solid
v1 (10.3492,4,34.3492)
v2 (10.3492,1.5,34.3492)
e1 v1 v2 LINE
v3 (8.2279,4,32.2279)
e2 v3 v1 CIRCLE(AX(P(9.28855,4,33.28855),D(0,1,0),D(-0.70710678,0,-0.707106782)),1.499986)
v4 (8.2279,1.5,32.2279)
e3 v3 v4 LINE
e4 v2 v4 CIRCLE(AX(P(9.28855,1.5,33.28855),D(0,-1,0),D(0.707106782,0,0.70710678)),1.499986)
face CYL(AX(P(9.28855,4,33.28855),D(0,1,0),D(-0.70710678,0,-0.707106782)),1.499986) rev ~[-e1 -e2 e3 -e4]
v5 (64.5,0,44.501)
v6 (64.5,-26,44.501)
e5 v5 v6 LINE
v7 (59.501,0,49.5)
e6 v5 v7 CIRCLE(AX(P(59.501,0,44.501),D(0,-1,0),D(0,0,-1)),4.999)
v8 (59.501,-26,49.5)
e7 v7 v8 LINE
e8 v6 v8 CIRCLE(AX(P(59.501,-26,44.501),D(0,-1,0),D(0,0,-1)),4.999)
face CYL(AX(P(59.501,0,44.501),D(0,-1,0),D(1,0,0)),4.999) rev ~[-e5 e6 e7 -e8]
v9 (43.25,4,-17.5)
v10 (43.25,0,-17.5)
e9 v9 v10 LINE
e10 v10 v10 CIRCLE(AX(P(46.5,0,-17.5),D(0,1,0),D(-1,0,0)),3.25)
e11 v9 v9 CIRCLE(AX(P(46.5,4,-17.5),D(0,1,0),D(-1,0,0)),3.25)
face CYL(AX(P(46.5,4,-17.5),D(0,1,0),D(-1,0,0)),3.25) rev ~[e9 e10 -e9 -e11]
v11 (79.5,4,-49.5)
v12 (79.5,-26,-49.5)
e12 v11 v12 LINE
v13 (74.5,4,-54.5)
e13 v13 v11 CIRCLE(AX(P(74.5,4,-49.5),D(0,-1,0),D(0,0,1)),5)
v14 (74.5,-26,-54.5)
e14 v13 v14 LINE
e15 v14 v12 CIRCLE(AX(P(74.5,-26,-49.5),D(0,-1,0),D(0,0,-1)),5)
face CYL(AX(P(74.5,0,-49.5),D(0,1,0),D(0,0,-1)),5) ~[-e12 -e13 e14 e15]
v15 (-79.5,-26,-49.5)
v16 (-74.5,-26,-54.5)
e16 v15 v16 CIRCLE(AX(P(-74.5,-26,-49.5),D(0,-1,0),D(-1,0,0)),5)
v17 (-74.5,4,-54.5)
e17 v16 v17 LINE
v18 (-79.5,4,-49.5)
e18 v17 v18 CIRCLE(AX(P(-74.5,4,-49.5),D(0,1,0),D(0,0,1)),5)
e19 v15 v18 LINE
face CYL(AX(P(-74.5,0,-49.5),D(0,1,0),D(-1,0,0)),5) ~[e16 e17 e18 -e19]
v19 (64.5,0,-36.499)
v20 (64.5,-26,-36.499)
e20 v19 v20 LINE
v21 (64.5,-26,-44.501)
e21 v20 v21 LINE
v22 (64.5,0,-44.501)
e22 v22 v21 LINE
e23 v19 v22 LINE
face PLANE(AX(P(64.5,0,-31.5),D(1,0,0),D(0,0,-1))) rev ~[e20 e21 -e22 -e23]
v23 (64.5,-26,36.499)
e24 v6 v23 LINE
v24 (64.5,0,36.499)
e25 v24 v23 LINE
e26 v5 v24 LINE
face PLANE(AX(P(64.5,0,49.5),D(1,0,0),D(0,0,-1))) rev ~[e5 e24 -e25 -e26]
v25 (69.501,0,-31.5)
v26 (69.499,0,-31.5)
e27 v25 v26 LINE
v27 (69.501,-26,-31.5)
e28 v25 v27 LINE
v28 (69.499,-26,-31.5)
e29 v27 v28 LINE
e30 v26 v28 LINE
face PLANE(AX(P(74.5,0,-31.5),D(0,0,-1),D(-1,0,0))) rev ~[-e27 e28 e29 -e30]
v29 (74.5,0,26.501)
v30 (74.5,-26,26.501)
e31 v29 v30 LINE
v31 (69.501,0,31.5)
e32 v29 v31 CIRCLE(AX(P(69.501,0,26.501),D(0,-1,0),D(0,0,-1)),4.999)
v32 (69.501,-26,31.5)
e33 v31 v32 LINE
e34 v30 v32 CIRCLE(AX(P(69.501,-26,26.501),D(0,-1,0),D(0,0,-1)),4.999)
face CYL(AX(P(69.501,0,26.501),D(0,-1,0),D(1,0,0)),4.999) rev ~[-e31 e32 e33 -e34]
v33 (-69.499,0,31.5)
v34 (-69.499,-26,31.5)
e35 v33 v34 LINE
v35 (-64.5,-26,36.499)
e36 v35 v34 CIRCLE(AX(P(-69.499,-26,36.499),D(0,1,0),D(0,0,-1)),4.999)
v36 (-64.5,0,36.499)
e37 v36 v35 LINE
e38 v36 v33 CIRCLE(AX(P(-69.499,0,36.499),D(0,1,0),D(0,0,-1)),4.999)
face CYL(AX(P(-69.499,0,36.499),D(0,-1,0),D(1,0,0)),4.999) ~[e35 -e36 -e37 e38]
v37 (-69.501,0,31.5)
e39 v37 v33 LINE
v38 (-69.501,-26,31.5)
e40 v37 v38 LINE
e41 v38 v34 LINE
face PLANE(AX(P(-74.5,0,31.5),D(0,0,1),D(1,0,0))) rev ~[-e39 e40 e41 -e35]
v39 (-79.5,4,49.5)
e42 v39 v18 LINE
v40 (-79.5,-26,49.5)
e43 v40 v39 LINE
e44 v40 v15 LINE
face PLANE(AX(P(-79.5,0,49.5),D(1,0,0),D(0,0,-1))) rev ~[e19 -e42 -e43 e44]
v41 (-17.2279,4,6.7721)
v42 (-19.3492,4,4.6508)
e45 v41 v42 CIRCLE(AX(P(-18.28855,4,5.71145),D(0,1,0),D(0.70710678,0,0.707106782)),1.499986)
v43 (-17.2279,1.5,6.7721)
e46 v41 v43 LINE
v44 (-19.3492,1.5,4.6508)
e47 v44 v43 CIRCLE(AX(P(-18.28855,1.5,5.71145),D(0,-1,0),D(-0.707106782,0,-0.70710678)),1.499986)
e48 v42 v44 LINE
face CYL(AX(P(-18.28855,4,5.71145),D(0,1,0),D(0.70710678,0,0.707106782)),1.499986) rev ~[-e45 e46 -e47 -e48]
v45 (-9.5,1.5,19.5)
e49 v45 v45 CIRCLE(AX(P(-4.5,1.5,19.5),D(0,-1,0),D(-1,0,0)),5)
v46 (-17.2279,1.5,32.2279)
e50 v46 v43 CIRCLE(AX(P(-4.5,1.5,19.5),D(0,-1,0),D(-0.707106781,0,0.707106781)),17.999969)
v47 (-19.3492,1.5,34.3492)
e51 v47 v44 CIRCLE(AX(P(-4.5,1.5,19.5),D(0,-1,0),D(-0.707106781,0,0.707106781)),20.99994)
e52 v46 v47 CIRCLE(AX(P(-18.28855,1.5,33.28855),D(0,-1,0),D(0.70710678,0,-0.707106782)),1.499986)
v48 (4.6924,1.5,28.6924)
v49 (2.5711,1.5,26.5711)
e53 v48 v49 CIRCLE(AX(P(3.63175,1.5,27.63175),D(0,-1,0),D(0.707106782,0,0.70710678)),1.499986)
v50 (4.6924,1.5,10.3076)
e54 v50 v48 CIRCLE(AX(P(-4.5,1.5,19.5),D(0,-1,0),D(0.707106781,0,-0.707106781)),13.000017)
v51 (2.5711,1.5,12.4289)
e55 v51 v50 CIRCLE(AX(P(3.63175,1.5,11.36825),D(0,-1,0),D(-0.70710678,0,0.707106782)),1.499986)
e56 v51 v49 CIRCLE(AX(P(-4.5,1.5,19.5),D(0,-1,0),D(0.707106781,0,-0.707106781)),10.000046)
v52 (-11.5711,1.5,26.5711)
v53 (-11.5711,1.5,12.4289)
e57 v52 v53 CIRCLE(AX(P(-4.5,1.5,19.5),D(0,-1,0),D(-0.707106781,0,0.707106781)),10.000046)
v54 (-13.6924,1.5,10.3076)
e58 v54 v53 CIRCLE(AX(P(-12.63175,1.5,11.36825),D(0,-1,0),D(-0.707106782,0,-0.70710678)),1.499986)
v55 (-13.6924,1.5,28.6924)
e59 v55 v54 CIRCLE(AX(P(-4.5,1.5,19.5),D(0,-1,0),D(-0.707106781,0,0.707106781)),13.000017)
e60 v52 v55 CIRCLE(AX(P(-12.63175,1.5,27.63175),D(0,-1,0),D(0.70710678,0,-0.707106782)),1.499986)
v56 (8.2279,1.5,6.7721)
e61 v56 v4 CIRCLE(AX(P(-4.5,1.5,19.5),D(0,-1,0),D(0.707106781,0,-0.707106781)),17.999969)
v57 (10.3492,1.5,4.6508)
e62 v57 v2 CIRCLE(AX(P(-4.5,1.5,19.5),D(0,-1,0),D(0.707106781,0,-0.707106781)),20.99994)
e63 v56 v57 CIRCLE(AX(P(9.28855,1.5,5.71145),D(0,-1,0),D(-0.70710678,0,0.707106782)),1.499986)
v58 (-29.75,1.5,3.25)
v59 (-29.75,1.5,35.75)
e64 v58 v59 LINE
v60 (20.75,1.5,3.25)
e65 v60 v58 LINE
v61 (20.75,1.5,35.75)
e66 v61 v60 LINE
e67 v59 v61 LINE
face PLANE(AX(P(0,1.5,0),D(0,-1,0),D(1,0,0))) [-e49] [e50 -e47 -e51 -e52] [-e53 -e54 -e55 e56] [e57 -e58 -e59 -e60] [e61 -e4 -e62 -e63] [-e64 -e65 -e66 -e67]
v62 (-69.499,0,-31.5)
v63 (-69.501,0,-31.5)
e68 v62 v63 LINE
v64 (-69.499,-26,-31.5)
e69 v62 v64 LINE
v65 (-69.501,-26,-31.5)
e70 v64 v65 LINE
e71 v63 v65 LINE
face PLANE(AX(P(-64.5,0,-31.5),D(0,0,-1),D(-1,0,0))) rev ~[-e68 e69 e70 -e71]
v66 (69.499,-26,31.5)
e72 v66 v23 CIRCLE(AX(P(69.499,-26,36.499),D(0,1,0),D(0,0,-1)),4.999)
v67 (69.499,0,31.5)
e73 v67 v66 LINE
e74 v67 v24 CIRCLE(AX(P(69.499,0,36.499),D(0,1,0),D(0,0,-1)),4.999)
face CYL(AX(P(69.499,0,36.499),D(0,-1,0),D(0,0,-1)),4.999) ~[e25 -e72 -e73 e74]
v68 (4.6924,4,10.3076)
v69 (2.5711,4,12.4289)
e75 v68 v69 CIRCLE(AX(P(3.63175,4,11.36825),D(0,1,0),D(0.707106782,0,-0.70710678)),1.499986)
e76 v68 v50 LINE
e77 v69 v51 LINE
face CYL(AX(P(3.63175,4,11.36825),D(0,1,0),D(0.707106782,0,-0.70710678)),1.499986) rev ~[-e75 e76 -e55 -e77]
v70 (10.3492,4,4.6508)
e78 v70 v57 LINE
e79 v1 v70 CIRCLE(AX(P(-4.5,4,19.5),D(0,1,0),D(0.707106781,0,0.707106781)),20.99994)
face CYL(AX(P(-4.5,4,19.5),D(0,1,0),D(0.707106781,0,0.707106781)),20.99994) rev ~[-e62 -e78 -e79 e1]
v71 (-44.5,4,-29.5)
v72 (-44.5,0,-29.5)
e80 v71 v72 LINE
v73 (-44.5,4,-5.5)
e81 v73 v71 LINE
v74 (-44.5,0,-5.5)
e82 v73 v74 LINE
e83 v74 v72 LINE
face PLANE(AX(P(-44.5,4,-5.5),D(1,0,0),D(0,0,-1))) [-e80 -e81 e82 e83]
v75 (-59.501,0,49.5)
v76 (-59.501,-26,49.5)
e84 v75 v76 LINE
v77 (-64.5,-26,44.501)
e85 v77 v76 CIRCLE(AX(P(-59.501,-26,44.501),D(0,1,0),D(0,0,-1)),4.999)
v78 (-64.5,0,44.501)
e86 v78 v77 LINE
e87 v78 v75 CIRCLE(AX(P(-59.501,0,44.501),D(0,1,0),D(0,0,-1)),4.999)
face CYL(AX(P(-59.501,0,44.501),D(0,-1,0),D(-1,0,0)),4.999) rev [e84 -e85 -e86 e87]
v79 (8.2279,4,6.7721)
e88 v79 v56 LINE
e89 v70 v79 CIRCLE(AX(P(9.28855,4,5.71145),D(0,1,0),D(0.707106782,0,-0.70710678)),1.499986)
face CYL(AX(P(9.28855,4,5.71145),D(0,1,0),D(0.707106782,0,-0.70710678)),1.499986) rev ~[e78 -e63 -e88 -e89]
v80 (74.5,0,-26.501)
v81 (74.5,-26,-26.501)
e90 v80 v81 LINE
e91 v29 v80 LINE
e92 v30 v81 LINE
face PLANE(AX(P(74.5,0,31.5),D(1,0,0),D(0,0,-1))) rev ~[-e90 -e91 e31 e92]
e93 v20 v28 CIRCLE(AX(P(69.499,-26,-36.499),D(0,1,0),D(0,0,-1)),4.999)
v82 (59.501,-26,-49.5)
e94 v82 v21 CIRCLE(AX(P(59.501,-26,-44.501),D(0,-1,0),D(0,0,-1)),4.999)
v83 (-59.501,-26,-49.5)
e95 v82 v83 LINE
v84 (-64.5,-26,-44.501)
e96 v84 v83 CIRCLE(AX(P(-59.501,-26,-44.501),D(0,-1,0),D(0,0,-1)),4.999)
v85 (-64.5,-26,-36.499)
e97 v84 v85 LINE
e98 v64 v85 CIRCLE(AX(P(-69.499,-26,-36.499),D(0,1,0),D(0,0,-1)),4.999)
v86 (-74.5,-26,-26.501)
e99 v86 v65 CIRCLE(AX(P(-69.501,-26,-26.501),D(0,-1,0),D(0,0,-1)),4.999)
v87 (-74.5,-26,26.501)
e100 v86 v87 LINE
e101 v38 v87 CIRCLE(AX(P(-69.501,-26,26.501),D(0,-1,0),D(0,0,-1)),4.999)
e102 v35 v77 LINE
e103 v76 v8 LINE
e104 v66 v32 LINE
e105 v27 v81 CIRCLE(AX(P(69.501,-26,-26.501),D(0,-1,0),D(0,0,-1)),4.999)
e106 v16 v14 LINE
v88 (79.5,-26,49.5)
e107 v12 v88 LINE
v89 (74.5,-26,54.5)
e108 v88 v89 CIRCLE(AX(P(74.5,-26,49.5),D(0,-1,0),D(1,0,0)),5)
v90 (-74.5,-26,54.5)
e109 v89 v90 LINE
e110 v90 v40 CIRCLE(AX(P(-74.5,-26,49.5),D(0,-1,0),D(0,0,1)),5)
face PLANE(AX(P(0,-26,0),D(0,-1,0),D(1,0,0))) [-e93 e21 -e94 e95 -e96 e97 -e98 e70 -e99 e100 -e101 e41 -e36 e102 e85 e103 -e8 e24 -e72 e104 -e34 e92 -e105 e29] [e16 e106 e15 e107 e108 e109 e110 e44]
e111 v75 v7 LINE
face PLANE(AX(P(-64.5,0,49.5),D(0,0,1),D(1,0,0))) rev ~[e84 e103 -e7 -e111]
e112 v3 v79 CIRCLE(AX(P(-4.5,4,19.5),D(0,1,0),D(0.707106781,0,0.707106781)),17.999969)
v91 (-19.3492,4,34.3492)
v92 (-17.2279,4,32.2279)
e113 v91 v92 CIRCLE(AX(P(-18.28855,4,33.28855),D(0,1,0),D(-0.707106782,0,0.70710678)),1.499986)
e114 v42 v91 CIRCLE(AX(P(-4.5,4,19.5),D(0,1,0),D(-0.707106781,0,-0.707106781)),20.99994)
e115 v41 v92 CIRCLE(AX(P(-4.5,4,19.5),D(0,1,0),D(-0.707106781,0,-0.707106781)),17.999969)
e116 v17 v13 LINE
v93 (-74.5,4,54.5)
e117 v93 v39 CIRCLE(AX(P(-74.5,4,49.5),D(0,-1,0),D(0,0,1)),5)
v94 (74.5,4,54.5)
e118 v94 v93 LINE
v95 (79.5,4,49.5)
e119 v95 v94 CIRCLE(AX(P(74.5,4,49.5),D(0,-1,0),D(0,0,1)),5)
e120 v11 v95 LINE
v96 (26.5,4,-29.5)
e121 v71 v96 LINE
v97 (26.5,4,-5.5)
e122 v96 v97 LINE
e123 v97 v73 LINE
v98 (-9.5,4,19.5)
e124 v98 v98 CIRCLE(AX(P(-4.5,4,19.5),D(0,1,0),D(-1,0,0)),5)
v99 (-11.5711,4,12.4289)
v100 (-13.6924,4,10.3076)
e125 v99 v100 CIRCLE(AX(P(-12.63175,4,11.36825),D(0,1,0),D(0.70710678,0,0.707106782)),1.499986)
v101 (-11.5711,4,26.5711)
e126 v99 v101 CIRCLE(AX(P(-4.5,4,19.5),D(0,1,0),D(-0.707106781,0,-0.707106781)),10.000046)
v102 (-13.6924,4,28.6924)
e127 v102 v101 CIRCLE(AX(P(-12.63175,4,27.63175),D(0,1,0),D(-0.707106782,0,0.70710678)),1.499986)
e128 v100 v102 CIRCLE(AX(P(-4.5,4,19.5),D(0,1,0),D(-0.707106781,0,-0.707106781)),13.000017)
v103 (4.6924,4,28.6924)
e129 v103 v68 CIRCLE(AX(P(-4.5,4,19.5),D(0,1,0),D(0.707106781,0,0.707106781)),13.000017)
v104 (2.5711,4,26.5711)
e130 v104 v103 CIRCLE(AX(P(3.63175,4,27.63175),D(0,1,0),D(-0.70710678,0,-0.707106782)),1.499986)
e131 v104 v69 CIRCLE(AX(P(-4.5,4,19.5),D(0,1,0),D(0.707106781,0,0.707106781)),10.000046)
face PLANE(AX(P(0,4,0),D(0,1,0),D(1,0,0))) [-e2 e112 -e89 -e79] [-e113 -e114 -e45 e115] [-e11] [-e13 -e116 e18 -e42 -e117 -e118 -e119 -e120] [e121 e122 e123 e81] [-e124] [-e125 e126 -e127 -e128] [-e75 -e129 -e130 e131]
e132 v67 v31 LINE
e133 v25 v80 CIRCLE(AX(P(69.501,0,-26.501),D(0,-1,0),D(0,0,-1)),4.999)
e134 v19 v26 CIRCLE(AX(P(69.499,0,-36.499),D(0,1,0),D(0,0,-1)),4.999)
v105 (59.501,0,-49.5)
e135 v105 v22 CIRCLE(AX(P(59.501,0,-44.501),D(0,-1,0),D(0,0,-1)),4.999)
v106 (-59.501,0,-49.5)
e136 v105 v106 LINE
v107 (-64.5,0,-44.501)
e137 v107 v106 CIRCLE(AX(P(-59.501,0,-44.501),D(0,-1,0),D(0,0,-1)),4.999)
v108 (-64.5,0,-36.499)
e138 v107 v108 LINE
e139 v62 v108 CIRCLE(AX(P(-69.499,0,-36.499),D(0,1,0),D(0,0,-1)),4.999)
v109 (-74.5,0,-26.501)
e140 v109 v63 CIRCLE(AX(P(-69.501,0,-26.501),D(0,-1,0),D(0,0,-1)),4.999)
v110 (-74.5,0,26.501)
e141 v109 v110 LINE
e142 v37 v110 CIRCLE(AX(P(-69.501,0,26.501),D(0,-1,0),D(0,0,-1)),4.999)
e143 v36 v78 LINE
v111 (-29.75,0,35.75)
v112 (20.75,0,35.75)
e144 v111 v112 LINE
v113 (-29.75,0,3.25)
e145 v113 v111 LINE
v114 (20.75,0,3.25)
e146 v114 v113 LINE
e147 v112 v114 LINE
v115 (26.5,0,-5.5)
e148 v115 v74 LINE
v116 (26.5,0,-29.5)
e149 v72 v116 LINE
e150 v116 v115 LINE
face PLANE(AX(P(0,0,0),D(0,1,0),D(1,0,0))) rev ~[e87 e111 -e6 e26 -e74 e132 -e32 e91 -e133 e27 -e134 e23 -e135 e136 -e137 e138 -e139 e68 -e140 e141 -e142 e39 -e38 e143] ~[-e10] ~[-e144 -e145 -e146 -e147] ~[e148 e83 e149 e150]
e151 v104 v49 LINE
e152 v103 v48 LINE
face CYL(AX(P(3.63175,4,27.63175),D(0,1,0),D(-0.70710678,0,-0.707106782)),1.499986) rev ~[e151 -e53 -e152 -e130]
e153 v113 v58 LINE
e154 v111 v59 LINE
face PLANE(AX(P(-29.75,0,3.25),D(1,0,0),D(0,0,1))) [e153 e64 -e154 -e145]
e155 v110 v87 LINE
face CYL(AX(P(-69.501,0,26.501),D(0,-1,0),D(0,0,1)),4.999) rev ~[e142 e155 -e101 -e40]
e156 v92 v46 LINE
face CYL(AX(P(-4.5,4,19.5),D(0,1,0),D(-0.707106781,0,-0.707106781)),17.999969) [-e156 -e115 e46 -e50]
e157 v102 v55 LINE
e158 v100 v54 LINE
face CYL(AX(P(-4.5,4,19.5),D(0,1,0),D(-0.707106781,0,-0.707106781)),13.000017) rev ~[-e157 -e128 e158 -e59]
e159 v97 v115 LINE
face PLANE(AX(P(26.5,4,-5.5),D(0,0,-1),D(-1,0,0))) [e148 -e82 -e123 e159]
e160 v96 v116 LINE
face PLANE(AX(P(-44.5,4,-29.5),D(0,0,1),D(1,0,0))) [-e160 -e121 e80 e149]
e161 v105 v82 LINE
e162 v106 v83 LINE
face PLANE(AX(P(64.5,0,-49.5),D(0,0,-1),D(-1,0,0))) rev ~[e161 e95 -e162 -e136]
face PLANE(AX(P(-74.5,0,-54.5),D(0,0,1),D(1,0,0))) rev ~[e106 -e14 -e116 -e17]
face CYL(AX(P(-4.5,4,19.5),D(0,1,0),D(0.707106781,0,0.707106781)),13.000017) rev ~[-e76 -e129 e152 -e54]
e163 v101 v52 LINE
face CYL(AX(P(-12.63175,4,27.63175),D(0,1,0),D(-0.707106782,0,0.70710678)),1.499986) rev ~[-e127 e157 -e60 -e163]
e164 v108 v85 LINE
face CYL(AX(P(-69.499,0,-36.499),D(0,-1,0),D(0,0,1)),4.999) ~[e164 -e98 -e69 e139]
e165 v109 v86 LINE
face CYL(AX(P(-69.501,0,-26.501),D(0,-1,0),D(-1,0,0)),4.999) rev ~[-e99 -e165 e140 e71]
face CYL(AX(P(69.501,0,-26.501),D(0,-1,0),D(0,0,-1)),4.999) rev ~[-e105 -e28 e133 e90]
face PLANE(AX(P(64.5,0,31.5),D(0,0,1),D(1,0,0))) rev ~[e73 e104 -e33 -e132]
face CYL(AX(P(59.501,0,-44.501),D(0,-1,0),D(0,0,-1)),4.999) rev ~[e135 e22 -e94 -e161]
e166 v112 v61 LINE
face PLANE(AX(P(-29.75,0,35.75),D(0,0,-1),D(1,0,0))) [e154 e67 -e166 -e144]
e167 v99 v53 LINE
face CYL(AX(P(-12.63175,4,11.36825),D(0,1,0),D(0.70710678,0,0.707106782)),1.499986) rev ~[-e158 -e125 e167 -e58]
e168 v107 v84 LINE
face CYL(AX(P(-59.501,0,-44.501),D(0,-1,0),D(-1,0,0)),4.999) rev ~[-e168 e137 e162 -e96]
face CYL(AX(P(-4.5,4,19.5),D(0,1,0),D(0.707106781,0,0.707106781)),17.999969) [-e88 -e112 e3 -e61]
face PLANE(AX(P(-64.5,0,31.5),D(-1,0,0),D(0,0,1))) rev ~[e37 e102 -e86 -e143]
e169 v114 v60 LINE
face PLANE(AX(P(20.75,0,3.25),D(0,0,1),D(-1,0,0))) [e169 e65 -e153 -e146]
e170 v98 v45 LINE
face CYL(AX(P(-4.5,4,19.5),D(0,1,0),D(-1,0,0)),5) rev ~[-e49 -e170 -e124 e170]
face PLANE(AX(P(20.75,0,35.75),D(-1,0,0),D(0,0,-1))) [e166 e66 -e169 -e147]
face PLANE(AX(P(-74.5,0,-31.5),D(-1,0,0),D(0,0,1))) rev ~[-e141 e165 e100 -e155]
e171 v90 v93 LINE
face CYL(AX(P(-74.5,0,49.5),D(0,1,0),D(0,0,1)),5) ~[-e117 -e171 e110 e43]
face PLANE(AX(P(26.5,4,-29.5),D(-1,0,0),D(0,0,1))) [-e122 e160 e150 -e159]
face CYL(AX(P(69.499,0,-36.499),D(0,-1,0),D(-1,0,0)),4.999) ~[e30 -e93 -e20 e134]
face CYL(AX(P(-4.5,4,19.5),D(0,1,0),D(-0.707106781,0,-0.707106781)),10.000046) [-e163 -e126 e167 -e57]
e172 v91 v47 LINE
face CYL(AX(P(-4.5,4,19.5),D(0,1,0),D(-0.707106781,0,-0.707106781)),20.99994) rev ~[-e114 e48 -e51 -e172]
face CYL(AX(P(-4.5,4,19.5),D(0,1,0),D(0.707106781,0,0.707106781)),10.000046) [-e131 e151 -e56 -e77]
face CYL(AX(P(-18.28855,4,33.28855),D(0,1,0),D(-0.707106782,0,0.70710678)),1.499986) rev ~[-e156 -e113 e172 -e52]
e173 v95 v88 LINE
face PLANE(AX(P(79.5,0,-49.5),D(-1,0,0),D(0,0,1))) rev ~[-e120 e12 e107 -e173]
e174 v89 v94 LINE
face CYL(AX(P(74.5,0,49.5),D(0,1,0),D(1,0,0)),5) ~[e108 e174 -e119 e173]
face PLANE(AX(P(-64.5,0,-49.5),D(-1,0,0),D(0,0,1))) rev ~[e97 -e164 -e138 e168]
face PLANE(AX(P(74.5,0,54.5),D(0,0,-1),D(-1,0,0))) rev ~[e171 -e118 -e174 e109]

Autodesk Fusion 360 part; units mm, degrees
sketch "Skizze1" plane through (0, 0, 0) normal (0, 1, 0) x (1, 0, 0)
  line L0 (-79.5, 54.5) -> (79.5, 54.5)
  line L1 (79.5, 54.5) -> (79.5, -54.5)
  line L2 (79.5, -54.5) -> (-79.5, -54.5)
  line L3 (-79.5, -54.5) -> (-79.5, 54.5)
  line L4 (-79.5, 54.5) -> (79.5, -54.5) construction
  line L5 (79.5, 54.5) -> (-79.5, -54.5) construction
  dimension "d1" = 109
  dimension "d2" = 159
extrude "Extrusion1" add sketch "Skizze1" along normal blind 4
fillet "Abrundung1" radius 5 4 edges at (-79.5, 2, -54.5) (-79.5, 2, 54.5) (79.5, 2, 54.5) (79.5, 2, -54.5)
sketch "Skizze2" plane through (0, 4, 0) normal (0, 1, 0) x (-1, 0, 0)
  arc A0 (-79.5, -49.5) -> (-74.5, -54.5) centre (-74.5, -49.5) ccw
  line L0 (-74.5, -54.5) -> (74.5, -54.5)
  arc A1 (74.5, -54.5) -> (79.5, -49.5) centre (74.5, -49.5) ccw
  line L1 (79.5, -49.5) -> (79.5, 49.5)
  arc A2 (79.5, 49.5) -> (74.5, 54.5) centre (74.5, 49.5) ccw
  line L2 (74.5, 54.5) -> (-74.5, 54.5)
  arc A3 (-74.5, 54.5) -> (-79.5, 49.5) centre (-74.5, 49.5) ccw
  line L3 (-79.5, 49.5) -> (-79.5, -49.5)
  circle A4 centre (-46.5, -17.5) radius 3.25
  line L4 (44.5, -29.5) -> (-26.5, -29.5)
  line L5 (-26.5, -29.5) -> (-26.5, -5.5)
  line L6 (-26.5, -5.5) -> (44.5, -5.5)
  line L7 (44.5, -5.5) -> (44.5, -29.5)
  circle A5 centre (4.5, 19.5) radius 5
  line L8 (4.5, 19.5) -> (-9.2886, 5.7114) construction
  line L9 (4.5, 19.5) -> (-9.2886, 33.2886) construction
  arc A6 (-10.3492, 4.6508) -> (-8.2279, 6.7721) centre (-9.2886, 5.7114) ccw
  arc A7 (-8.2279, 32.2279) -> (-10.3492, 34.3492) centre (-9.2886, 33.2886) ccw
  arc A8 (-2.5711, 26.5711) -> (-4.6924, 28.6924) centre (-3.6317, 27.6317) ccw
  arc A9 (-4.6924, 10.3076) -> (-2.5711, 12.4289) centre (-3.6317, 11.3683) ccw
  arc A10 (-4.6924, 28.6924) -> (-4.6924, 10.3076) centre (4.5, 19.5) ccw
  arc A11 (-2.5711, 26.5711) -> (-2.5711, 12.4289) centre (4.5, 19.5) ccw
  arc A12 (-8.2279, 32.2279) -> (-8.2279, 6.7721) centre (4.5, 19.5) ccw
  arc A13 (-10.3492, 34.3492) -> (-10.3492, 4.6508) centre (4.5, 19.5) ccw
  line L10 (4.5, 19.5) -> (4.5, 4.5) construction
  arc A14 (19.3492, 34.3492) -> (17.2279, 32.2279) centre (18.2886, 33.2886) ccw
  arc A15 (17.2279, 6.7721) -> (19.3492, 4.6508) centre (18.2886, 5.7114) ccw
  arc A16 (19.3492, 4.6508) -> (19.3492, 34.3492) centre (4.5, 19.5) ccw
  arc A17 (11.5711, 12.4289) -> (13.6924, 10.3076) centre (12.6317, 11.3683) ccw
  arc A18 (11.5711, 12.4289) -> (11.5711, 26.5711) centre (4.5, 19.5) ccw
  arc A19 (13.6924, 28.6924) -> (11.5711, 26.5711) centre (12.6317, 27.6317) ccw
  arc A20 (17.2279, 6.7721) -> (17.2279, 32.2279) centre (4.5, 19.5) ccw
  arc A21 (13.6924, 10.3076) -> (13.6924, 28.6924) centre (4.5, 19.5) ccw
  point P0 (18.2886, 33.2886)
  point P1 (18.2886, 5.7114)
  dimension "d7" = 6.5
  dimension "d8" = 71
  dimension "d9" = 24
  dimension "d10" = 35
  dimension "d11" = 25
  dimension "d12" = 20
  dimension "d13" = 12
  dimension "d14" = 10
  dimension "d15" = 5
  dimension "d16" = 5
  dimension "d17" = 3
  dimension "d18" = 3
  dimension "d21" = 35
  dimension "d22" = 75
  dimension "d23" = 45
extrude "Extrusion2" cut sketch "Skizze2" against normal blind 4 contours A4 | L4 L5 L6 L7 | A5 | A6 A7 A12 A13 | A8 A9 A10 A11 | A14 A15 A16 A20 | A17 A18 A19 A21
sketch "Skizze3" plane through (0, 0, 0) normal (0, -1, 0) x (1, 0, 0)
  line L0 (26.5, -5.5) -> (26.5, -29.5)
  line L1 (26.5, -29.5) -> (-44.5, -29.5)
  line L2 (-44.5, -29.5) -> (-44.5, -5.5)
  line L3 (-44.5, -5.5) -> (26.5, -5.5)
  circle A0 centre (46.5, -17.5) radius 3.25
  arc A1 (74.5, -54.5) -> (79.5, -49.5) centre (74.5, -49.5) ccw
  line L4 (79.5, -49.5) -> (79.5, 49.5)
  arc A2 (79.5, 49.5) -> (74.5, 54.5) centre (74.5, 49.5) ccw
  line L5 (74.5, 54.5) -> (-74.5, 54.5)
  line L6 (-79.5, 49.5) -> (-79.5, -49.5)
  arc A3 (-79.5, -49.5) -> (-74.5, -54.5) centre (-74.5, -49.5) ccw
  line L7 (-74.5, -54.5) -> (74.5, -54.5)
sketch "Skizze4" plane through (0, 0, 0) normal (0, -1, 0) x (1, 0, 0)
  arc A0 (10.3492, 4.6508) -> (10.3492, 34.3492) centre (-4.5, 19.5) ccw
  arc A1 (8.2279, 6.7721) -> (10.3492, 4.6508) centre (9.2886, 5.7114) ccw
  arc A2 (8.2279, 6.7721) -> (8.2279, 32.2279) centre (-4.5, 19.5) ccw
  arc A3 (10.3492, 34.3492) -> (8.2279, 32.2279) centre (9.2886, 33.2886) ccw
  arc A4 (-17.2279, 32.2279) -> (-19.3492, 34.3492) centre (-18.2886, 33.2886) ccw
  arc A5 (-17.2279, 32.2279) -> (-17.2279, 6.7721) centre (-4.5, 19.5) ccw
  arc A6 (-19.3492, 4.6508) -> (-17.2279, 6.7721) centre (-18.2886, 5.7114) ccw
  arc A7 (-19.3492, 34.3492) -> (-19.3492, 4.6508) centre (-4.5, 19.5) ccw
  arc A8 (2.5711, 12.4289) -> (4.6924, 10.3076) centre (3.6317, 11.3683) ccw
  arc A9 (2.5711, 12.4289) -> (2.5711, 26.5711) centre (-4.5, 19.5) ccw
  arc A10 (4.6924, 28.6924) -> (2.5711, 26.5711) centre (3.6317, 27.6317) ccw
  arc A11 (4.6924, 10.3076) -> (4.6924, 28.6924) centre (-4.5, 19.5) ccw
  line L0 (26.5, -5.5) -> (26.5, -29.5)
  line L1 (26.5, -29.5) -> (-44.5, -29.5)
  line L2 (-44.5, -29.5) -> (-44.5, -5.5)
  line L3 (-44.5, -5.5) -> (26.5, -5.5)
  arc A12 (-13.6924, 28.6924) -> (-13.6924, 10.3076) centre (-4.5, 19.5) ccw
  arc A13 (-11.5711, 26.5711) -> (-13.6924, 28.6924) centre (-12.6317, 27.6317) ccw
  arc A14 (-11.5711, 26.5711) -> (-11.5711, 12.4289) centre (-4.5, 19.5) ccw
  arc A15 (-13.6924, 10.3076) -> (-11.5711, 12.4289) centre (-12.6317, 11.3683) ccw
  circle A16 centre (-4.5, 19.5) radius 5
  circle A17 centre (46.5, -17.5) radius 3.25
  arc A18 (74.5, -54.5) -> (79.5, -49.5) centre (74.5, -49.5) ccw
  line L4 (79.5, -49.5) -> (79.5, 49.5)
  arc A19 (79.5, 49.5) -> (74.5, 54.5) centre (74.5, 49.5) ccw
  line L5 (74.5, 54.5) -> (-74.5, 54.5)
  arc A20 (-74.5, 54.5) -> (-79.5, 49.5) centre (-74.5, 49.5) ccw
  line L6 (-79.5, 49.5) -> (-79.5, -49.5)
  arc A21 (-79.5, -49.5) -> (-74.5, -54.5) centre (-74.5, -49.5) ccw
  line L7 (-74.5, -54.5) -> (74.5, -54.5)
  line L8 (-29.75, 35.75) -> (20.75, 35.75)
  line L9 (20.75, 35.75) -> (20.75, 3.25)
  line L10 (20.75, 3.25) -> (-29.75, 3.25)
  line L11 (-29.75, 3.25) -> (-29.75, 35.75)
  line L12 (-29.75, 35.75) -> (20.75, 3.25) construction
  line L13 (20.75, 35.75) -> (-29.75, 3.25) construction
  point P0 (-4.5, 19.5)
  dimension "d50" = 50.5
  dimension "d51" = 32.5
extrude "Extrusion3" cut sketch "Skizze4" against normal blind 1.5 contours L8 L9 L10 L11
sketch "Skizze5" plane through (0, 0, 0) normal (0, -1, 0) x (1, 0, 0)
  line L0 (20.75, 35.75) -> (20.75, 3.25)
  line L1 (20.75, 3.25) -> (-29.75, 3.25)
  line L2 (-29.75, 3.25) -> (-29.75, 35.75)
  line L3 (-29.75, 35.75) -> (20.75, 35.75)
  line L4 (26.5, -5.5) -> (26.5, -29.5)
  line L5 (26.5, -29.5) -> (-44.5, -29.5)
  line L6 (-44.5, -29.5) -> (-44.5, -5.5)
  line L7 (-44.5, -5.5) -> (26.5, -5.5)
  circle A0 centre (46.5, -17.5) radius 3.25
  arc A1 (74.5, -54.5) -> (79.5, -49.5) centre (74.5, -49.5) ccw
  line L8 (79.5, -49.5) -> (79.5, 49.5)
  arc A2 (79.5, 49.5) -> (74.5, 54.5) centre (74.5, 49.5) ccw
  line L9 (74.5, 54.5) -> (-74.5, 54.5)
  arc A3 (-74.5, 54.5) -> (-79.5, 49.5) centre (-74.5, 49.5) ccw
  line L10 (-79.5, 49.5) -> (-79.5, -49.5)
  arc A4 (-79.5, -49.5) -> (-74.5, -54.5) centre (-74.5, -49.5) ccw
  line L11 (-74.5, -54.5) -> (74.5, -54.5)
  line L12 (74.5, 54.5) -> (-74.5, 54.5)
  arc A5 (-74.5, 54.5) -> (-79.5, 49.5) centre (-74.5, 49.5) ccw
  line L13 (-79.5, 49.5) -> (-79.5, -49.5)
  arc A6 (-79.5, -49.5) -> (-74.5, -54.5) centre (-74.5, -49.5) ccw
  line L14 (-74.5, -54.5) -> (74.5, -54.5)
  arc A7 (74.5, -54.5) -> (79.5, -49.5) centre (74.5, -49.5) ccw
  line L15 (79.5, -49.5) -> (79.5, 49.5)
  arc A8 (79.5, 49.5) -> (74.5, 54.5) centre (74.5, 49.5) ccw
  line L16 (-64.5, 49.5) -> (64.5, 49.5)
  line L17 (64.5, 49.5) -> (64.5, 31.5)
  line L18 (64.5, 31.5) -> (74.5, 31.5)
  line L19 (74.5, 31.5) -> (74.5, -31.5)
  line L20 (74.5, -31.5) -> (64.5, -31.5)
  line L21 (64.5, -31.5) -> (64.5, -49.5)
  line L22 (64.5, -49.5) -> (-64.5, -49.5)
  line L23 (-64.5, -49.5) -> (-64.5, -31.5)
  line L24 (-64.5, -31.5) -> (-74.5, -31.5)
  line L25 (-74.5, -31.5) -> (-74.5, 31.5)
  line L26 (-74.5, 31.5) -> (-64.5, 31.5)
  line L27 (-64.5, 31.5) -> (-64.5, 49.5)
  dimension "d54" = 5
  dimension "d55" = 5
  dimension "d56" = 5
  dimension "d57" = 5
  dimension "d58" = 15
  dimension "d59" = 23
extrude "Extrusion4" add sketch "Skizze5" along normal blind 26 contours A1 L8 A2 L9 A3 L10 A4 L11 L12 A5 L13 A6 L14 A7 L15 A8
fillet "Abrundung2" radius 5 12 edges at (64.5, -13, 49.5) (64.5, -13, 31.5) (74.5, -13, 31.5) (64.5, -13, -31.5) (74.5, -13, -31.5) (64.5, -13, -49.5) (-64.5, -13, -49.5) (-64.5, -13, -31.5) (-74.5, -13, -31.5) (-64.5, -13, 31.5) (-74.5, -13, 31.5) (-64.5, -13, 49.5)
equation "d13 = d9 / 2"
equation "d15 = d16"
equation "d17 = d18"
